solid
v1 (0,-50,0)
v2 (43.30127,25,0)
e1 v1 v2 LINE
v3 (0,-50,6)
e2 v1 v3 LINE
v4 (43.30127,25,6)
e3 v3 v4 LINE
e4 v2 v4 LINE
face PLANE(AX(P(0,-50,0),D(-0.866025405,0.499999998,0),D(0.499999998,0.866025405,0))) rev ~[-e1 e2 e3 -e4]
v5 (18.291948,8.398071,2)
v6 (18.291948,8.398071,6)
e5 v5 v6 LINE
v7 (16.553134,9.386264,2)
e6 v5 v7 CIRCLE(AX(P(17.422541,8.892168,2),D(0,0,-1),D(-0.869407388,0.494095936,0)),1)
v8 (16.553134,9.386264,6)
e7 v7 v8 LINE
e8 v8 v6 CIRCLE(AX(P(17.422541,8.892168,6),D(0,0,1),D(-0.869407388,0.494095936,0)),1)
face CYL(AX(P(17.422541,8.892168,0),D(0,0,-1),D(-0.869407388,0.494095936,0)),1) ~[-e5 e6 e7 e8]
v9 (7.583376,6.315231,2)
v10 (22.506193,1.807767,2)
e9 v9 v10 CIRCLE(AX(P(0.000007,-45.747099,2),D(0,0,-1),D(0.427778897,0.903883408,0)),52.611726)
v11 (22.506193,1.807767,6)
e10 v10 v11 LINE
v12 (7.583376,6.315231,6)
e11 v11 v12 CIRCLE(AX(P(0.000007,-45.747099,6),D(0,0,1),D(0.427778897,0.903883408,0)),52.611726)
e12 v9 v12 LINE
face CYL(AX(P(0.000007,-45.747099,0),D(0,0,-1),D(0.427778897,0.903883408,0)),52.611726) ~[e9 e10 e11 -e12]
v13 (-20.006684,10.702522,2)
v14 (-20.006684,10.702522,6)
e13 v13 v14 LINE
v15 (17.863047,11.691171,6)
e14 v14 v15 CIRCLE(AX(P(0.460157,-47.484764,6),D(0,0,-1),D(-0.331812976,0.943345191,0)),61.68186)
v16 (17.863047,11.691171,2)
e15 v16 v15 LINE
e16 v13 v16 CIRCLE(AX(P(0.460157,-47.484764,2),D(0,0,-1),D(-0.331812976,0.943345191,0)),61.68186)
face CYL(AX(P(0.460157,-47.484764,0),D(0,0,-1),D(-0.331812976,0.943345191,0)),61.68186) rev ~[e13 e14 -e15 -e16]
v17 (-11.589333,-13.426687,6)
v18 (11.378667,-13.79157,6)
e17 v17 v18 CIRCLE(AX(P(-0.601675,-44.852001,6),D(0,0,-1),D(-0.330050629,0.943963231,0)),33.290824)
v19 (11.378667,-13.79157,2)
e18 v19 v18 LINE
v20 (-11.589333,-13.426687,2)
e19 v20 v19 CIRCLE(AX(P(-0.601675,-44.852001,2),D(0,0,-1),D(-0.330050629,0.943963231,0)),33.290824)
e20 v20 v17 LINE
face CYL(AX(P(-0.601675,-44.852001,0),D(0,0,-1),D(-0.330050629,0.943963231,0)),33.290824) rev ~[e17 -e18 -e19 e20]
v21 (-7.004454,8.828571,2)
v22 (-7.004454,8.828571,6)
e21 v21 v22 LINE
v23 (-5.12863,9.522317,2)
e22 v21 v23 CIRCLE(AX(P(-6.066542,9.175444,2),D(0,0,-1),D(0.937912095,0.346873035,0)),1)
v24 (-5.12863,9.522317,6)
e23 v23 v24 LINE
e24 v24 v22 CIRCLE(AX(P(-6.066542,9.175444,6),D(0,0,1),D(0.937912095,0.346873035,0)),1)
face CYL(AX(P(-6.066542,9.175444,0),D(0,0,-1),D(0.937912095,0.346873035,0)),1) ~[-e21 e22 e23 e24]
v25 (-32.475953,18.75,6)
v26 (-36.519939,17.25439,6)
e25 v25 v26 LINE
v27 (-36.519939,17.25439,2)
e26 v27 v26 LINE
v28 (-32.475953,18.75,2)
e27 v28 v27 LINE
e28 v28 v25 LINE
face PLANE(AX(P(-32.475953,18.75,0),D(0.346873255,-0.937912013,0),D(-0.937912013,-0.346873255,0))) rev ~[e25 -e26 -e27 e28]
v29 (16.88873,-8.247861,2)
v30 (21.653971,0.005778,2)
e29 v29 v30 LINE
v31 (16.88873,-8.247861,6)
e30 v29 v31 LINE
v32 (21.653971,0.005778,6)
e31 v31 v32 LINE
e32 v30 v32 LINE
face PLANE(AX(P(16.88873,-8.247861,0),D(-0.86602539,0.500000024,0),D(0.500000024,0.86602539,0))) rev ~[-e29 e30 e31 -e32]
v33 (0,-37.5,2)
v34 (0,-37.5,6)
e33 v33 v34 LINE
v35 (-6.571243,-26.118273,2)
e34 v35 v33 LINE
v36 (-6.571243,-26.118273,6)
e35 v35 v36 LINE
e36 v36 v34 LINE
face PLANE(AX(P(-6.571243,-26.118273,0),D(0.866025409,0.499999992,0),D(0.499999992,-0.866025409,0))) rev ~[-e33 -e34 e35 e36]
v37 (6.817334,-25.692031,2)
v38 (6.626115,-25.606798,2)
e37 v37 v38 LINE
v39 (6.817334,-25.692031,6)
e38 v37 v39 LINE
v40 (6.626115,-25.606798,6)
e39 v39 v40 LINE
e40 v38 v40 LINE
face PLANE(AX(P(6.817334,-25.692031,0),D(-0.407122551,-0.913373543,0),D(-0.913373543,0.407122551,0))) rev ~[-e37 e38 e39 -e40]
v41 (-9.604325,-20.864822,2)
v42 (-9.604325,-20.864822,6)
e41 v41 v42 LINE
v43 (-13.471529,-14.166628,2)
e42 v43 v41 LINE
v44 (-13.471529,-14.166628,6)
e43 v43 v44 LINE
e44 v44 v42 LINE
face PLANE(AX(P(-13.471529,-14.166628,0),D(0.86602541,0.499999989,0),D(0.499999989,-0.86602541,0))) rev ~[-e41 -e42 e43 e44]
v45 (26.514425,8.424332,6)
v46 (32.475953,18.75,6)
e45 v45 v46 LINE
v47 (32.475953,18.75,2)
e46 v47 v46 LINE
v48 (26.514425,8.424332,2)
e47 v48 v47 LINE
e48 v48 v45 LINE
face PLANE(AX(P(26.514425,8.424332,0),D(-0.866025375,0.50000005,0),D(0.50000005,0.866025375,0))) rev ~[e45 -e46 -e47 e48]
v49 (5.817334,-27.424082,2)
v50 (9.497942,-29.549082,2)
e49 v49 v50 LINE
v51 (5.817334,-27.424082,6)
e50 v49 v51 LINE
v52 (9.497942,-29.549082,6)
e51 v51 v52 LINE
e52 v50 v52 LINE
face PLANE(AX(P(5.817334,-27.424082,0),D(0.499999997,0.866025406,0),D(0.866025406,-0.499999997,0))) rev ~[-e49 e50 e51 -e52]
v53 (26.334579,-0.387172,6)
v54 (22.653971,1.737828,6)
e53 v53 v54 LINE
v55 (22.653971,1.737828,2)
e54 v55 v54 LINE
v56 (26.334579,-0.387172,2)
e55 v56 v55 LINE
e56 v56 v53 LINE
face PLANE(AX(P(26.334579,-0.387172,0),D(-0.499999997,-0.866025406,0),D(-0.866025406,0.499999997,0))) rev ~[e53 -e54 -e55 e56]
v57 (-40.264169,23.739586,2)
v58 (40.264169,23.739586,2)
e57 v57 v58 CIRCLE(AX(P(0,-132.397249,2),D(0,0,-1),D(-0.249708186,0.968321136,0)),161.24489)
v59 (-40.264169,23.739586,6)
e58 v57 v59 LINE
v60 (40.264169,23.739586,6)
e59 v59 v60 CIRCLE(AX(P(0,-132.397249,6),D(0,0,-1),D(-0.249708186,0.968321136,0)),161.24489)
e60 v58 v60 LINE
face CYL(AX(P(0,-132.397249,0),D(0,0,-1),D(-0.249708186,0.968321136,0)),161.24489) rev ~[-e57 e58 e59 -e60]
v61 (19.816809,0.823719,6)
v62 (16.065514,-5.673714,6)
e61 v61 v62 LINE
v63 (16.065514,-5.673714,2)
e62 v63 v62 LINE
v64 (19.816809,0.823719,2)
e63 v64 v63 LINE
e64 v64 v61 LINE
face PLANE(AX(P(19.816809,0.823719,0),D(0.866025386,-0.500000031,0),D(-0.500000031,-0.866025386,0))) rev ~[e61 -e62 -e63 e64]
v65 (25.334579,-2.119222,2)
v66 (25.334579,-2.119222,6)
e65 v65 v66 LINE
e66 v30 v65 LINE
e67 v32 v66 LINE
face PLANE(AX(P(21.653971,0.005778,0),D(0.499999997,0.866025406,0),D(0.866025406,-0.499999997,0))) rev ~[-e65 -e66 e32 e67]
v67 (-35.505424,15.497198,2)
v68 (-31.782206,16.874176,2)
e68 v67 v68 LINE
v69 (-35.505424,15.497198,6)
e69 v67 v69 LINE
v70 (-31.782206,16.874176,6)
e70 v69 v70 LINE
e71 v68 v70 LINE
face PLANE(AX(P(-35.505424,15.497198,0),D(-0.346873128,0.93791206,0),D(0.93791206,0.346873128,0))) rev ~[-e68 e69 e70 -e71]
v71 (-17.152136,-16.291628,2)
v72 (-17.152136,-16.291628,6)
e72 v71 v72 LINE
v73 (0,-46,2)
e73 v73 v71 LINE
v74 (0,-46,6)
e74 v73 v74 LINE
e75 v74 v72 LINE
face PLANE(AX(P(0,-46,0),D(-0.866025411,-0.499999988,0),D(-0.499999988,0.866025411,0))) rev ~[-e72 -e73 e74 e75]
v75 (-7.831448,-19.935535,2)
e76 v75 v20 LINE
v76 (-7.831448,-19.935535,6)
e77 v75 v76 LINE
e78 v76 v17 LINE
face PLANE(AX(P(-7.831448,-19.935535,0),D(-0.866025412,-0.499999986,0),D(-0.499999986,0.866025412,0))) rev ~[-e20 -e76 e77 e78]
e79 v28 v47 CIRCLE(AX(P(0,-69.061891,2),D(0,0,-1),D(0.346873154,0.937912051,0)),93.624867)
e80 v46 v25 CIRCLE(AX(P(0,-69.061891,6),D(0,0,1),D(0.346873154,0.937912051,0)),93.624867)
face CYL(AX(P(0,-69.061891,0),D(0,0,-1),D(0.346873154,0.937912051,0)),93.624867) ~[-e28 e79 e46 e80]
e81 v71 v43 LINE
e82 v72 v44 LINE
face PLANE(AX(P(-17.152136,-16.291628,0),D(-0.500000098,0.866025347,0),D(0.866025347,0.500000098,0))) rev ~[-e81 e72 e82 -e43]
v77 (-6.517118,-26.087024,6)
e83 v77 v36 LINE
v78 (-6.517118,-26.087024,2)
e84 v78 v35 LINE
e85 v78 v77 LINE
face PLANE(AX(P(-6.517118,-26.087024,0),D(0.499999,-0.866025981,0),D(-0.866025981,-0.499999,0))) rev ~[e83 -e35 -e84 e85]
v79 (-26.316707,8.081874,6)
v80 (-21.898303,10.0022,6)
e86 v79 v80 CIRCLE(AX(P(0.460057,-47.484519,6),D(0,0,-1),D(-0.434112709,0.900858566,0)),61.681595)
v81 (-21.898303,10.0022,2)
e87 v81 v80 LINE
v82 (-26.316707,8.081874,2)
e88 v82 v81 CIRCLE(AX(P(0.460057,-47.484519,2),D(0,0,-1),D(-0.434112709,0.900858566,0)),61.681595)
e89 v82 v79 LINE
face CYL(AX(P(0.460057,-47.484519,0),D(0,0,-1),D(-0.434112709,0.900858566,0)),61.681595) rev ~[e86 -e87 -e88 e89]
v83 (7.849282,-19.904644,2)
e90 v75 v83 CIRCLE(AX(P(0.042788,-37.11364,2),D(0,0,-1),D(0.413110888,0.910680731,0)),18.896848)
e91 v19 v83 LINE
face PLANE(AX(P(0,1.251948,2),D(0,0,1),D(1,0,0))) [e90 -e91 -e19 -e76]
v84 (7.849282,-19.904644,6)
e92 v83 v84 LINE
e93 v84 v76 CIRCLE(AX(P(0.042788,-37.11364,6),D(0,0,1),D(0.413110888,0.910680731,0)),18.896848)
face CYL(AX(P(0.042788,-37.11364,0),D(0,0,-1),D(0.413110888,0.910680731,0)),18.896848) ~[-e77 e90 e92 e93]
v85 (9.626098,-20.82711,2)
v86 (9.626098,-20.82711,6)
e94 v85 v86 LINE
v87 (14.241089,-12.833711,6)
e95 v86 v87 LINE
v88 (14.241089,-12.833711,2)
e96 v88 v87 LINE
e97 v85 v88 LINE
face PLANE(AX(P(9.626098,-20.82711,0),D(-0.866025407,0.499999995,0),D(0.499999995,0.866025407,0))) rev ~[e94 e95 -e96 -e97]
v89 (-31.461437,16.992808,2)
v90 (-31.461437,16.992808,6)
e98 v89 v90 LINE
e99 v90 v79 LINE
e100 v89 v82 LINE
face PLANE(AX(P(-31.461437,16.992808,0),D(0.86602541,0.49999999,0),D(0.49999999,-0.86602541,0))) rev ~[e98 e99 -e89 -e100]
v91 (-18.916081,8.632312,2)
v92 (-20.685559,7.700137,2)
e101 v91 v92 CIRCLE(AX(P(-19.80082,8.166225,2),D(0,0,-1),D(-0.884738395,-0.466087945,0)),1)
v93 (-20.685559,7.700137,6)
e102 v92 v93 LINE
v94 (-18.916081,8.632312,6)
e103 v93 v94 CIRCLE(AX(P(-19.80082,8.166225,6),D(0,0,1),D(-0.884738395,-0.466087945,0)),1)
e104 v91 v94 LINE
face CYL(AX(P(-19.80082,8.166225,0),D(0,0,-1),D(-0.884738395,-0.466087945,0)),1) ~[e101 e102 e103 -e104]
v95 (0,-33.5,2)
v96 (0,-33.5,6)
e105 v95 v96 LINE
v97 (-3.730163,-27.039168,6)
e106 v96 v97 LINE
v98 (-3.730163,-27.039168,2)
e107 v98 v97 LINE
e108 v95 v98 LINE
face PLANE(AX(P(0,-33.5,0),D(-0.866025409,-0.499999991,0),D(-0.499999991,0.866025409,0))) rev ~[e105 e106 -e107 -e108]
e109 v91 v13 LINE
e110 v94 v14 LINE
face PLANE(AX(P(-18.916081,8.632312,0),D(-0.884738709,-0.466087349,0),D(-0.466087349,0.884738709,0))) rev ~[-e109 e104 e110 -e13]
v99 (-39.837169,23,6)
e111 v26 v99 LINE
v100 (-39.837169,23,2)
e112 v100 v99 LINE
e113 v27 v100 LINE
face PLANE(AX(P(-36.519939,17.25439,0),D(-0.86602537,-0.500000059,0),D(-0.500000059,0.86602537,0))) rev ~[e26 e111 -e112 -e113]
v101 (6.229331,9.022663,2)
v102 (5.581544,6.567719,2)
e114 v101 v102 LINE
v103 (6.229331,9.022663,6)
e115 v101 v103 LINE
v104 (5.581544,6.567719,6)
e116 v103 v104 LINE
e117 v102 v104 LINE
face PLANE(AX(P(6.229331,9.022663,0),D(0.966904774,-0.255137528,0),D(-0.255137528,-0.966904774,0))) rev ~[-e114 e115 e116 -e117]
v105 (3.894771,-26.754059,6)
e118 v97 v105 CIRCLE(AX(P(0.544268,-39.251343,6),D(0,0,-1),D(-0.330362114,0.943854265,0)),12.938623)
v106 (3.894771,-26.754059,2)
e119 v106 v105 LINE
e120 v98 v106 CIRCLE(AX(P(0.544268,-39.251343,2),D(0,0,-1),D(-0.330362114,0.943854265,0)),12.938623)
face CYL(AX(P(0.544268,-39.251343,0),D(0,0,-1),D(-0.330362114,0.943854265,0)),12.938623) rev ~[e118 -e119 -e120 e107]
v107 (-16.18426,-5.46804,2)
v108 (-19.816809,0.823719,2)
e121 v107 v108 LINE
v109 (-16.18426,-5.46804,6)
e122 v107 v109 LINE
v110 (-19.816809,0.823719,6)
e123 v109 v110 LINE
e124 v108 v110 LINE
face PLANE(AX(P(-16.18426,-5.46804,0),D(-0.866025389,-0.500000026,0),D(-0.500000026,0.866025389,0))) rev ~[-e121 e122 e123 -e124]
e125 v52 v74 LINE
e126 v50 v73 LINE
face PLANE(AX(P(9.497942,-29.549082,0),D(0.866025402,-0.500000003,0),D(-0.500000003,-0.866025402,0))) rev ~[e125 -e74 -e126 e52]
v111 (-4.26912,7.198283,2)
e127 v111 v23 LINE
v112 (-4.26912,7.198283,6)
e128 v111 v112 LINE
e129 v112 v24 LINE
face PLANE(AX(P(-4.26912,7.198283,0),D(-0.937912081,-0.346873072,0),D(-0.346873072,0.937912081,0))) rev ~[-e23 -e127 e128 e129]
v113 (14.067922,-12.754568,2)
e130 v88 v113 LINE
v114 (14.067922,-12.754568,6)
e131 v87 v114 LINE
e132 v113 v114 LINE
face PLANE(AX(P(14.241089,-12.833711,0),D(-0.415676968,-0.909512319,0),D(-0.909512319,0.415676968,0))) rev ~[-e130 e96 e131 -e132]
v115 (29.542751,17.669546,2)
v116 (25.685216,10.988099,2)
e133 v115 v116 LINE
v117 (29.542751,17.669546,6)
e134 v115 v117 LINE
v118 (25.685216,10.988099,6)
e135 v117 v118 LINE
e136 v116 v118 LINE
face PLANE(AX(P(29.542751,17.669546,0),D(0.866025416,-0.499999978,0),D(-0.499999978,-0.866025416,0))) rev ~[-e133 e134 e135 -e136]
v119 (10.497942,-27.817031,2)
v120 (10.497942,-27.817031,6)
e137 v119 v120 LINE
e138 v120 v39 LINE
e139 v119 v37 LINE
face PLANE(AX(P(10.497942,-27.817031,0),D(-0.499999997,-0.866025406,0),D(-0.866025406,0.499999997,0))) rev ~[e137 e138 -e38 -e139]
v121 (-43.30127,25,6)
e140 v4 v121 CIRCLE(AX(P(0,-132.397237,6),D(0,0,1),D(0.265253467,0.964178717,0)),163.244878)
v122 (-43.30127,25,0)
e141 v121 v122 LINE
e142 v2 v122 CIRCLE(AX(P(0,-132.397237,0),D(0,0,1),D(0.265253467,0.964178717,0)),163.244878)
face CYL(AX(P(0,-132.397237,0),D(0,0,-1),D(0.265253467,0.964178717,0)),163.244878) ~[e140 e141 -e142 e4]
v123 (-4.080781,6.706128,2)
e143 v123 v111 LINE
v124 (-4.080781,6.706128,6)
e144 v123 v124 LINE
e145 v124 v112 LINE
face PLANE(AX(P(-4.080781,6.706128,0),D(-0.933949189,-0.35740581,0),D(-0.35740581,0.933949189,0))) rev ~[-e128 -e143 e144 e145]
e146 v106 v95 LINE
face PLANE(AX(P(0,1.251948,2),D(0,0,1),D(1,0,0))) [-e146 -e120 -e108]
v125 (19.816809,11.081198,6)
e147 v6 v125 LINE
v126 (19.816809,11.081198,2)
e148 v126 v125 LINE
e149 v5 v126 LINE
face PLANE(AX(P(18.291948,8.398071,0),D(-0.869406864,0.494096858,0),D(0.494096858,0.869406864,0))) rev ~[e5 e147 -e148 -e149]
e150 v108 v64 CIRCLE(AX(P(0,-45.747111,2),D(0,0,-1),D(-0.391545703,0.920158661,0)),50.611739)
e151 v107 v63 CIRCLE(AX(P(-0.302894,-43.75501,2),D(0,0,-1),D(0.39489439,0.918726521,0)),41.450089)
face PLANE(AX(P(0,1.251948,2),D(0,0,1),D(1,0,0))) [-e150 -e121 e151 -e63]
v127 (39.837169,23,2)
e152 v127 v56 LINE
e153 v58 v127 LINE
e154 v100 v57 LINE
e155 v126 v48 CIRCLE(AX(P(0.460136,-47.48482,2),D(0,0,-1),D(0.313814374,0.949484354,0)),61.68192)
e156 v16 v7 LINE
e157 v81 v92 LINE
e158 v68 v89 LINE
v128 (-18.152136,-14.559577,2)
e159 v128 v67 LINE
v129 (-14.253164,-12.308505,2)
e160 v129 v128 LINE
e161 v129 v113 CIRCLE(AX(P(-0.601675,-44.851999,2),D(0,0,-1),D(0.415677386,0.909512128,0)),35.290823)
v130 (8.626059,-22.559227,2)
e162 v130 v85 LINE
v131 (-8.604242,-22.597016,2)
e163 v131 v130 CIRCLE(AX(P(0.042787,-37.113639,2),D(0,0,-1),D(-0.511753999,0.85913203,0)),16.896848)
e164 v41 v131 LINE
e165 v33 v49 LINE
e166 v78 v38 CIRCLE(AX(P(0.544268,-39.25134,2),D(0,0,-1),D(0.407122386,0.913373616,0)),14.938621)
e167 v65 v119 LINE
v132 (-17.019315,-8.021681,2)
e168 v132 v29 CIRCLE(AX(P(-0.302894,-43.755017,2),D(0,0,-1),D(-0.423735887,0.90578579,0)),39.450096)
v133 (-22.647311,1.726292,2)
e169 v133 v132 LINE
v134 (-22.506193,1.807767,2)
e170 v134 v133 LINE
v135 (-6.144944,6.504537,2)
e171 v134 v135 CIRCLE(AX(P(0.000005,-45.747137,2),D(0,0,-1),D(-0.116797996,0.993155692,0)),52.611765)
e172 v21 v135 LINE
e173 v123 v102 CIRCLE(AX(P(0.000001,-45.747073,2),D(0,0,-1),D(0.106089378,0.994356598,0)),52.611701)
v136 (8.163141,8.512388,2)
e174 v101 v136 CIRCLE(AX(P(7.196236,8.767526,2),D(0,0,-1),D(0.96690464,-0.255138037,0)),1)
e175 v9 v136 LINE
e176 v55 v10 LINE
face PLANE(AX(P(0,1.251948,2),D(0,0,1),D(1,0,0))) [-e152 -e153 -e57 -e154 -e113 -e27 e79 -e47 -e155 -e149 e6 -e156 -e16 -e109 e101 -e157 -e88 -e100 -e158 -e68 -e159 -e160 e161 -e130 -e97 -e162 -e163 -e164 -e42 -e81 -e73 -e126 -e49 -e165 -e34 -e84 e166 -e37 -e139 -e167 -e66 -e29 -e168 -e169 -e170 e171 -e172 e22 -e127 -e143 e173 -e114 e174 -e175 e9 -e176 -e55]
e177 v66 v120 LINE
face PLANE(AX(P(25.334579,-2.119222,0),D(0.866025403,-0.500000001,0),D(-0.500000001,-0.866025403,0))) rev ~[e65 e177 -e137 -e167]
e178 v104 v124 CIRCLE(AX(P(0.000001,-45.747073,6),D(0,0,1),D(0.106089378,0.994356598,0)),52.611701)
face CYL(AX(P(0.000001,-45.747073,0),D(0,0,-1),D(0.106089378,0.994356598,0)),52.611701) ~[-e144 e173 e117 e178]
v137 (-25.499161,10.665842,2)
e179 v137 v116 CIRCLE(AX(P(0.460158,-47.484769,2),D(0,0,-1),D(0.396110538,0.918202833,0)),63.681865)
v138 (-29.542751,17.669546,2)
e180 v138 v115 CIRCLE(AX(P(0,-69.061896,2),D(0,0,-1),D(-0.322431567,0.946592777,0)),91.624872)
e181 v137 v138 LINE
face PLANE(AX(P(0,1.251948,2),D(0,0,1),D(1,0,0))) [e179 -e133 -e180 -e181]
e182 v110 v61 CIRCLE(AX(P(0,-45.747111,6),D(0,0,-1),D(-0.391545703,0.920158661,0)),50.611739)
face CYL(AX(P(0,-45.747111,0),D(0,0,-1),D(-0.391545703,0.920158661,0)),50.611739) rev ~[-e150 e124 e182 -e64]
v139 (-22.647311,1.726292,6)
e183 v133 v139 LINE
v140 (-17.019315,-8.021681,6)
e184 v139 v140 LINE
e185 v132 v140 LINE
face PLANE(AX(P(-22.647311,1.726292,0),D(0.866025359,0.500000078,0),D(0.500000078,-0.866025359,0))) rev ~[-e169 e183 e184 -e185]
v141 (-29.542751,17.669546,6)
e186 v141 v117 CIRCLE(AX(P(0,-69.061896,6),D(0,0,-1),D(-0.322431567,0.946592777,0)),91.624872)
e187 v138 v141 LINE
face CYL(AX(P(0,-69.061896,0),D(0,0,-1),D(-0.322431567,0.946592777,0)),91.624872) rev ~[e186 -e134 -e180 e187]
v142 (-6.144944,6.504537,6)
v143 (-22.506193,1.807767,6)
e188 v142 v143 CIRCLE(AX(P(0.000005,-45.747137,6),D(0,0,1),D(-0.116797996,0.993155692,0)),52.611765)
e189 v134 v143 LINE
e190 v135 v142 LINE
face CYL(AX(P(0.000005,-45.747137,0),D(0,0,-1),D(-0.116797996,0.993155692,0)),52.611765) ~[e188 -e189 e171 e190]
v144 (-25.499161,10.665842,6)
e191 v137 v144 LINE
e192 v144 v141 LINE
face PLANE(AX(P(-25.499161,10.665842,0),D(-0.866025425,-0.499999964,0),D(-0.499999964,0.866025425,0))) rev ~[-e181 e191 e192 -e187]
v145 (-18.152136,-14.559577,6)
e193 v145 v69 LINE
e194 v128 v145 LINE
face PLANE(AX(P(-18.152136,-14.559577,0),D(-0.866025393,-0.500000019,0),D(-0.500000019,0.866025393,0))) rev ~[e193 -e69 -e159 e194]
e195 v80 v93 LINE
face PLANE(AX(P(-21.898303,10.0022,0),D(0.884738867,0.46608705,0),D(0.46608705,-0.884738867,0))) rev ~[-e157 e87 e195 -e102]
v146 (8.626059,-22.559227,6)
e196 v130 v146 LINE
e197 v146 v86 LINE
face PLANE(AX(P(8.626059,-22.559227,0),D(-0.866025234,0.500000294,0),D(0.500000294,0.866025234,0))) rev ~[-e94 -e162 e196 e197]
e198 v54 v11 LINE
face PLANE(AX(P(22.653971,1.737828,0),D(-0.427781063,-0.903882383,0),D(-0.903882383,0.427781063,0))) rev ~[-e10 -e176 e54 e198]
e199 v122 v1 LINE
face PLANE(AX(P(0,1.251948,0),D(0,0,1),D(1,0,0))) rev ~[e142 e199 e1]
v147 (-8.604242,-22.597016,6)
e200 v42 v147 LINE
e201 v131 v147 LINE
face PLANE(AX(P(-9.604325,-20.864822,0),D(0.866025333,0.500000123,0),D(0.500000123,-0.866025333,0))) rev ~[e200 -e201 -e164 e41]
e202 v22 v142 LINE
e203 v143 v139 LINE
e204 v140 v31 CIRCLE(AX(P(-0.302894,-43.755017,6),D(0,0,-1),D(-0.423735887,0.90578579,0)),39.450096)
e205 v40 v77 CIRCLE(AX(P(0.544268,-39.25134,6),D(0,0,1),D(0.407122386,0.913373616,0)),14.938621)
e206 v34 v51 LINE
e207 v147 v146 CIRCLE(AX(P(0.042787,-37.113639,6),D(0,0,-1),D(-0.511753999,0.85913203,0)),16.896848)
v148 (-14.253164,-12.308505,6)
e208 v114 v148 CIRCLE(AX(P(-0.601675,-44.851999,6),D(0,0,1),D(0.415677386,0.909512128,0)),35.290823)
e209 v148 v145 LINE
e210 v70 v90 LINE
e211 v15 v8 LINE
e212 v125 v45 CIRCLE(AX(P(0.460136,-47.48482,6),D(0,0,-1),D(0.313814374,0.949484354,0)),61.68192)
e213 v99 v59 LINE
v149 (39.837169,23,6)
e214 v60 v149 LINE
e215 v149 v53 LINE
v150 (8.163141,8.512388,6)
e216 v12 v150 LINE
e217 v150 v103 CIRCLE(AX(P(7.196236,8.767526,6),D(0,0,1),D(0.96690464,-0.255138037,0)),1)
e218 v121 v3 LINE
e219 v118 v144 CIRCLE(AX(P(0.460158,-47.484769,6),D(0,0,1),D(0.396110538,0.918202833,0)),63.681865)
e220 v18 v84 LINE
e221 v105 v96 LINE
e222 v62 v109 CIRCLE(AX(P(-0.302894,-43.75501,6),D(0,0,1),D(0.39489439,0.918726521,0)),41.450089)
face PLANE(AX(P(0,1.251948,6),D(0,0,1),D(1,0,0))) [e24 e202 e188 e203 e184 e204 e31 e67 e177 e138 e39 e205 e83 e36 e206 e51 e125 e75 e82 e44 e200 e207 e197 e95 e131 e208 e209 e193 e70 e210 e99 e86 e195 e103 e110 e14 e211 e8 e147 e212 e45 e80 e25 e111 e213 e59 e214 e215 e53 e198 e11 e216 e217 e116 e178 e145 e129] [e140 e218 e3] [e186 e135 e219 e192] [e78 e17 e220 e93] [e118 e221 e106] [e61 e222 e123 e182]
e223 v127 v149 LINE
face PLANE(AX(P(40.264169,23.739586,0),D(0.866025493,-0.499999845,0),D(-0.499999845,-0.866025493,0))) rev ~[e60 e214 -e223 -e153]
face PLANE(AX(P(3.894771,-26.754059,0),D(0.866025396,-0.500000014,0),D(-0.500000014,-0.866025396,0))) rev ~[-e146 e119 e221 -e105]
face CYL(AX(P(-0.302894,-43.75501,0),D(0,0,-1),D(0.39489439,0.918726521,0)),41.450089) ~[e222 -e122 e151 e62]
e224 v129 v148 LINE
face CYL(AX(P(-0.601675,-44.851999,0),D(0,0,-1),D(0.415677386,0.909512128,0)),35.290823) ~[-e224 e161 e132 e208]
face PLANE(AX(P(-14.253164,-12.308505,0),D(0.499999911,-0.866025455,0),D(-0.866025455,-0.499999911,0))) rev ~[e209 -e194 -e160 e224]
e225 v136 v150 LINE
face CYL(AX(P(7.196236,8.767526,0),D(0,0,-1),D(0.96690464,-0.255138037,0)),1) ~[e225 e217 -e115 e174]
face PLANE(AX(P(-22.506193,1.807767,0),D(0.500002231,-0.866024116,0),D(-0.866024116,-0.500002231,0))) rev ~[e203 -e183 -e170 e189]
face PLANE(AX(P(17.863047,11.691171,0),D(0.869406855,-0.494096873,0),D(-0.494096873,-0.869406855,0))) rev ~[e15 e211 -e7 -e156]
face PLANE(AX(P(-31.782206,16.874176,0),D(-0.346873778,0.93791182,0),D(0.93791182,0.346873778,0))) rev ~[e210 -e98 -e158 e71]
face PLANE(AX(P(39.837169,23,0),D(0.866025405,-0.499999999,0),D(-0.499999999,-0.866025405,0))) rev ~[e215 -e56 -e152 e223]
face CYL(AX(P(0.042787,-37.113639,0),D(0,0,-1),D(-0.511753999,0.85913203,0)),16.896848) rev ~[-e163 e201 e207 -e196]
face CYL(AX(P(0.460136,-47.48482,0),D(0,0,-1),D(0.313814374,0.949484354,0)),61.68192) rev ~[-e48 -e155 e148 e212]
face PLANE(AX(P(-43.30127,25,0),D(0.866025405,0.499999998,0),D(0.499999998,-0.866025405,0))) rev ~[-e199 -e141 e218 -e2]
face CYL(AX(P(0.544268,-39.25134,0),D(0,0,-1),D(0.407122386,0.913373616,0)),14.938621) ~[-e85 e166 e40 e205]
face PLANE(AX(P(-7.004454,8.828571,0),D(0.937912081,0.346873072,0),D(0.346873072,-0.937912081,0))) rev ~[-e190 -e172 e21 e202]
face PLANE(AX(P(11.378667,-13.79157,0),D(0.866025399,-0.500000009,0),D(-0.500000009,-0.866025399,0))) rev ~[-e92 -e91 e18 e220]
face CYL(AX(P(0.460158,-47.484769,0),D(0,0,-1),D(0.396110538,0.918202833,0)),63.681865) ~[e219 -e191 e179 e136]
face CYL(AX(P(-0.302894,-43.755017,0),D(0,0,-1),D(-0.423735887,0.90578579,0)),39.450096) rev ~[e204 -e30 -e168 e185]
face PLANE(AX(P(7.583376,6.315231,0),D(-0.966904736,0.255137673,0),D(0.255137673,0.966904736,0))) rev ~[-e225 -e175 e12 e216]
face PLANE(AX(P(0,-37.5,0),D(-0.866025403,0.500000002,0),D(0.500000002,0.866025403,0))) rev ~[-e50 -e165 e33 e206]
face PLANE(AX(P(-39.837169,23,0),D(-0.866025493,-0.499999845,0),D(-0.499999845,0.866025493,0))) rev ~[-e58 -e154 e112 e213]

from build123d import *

# Parameters (mm, degrees)
F1_DEPTH = 6
F3_DEPTH = 2


with BuildPart() as f1:
    # F0 (on Top) → F1 (new body)
    with BuildSketch(Plane.XY):
        with BuildLine():
            Line((-43.30127, 25), (0, -50))
            Line((0, -50), (43.30127, 25))
            ThreePointArc((43.30127, 25), (0, 30.847641), (-43.30127, 25))
        make_face()
        with BuildLine():
            ThreePointArc((-11.589333, -13.426687), (-0.072865, -11.565377), (11.378667, -13.79157))
            Line((11.378667, -13.79157), (7.849282, -19.904644))
            ThreePointArc((7.849282, -19.904644), (0.005562, -18.216828), (-7.831448, -19.935535))
            Line((-7.831448, -19.935535), (-11.589333, -13.426687))
        make_face(mode=Mode.SUBTRACT)
        with BuildLine():
            ThreePointArc((-3.730163, -27.039168), (0.060809, -26.321755), (3.894771, -26.754059))
            Line((3.894771, -26.754059), (0, -33.5))
            Line((0, -33.5), (-3.730163, -27.039168))
        make_face(mode=Mode.SUBTRACT)
        with BuildLine():
            Line((9.497942, -29.549082), (0, -46))
            Line((0, -46), (-17.152136, -16.291628))
            Line((-17.152136, -16.291628), (-13.471529, -14.166628))
            Line((-13.471529, -14.166628), (-9.604325, -20.864822))
            Line((-9.604325, -20.864822), (-8.604242, -22.597016))
            ThreePointArc((-8.604242, -22.597016), (0.00573, -20.216832), (8.626059, -22.559227))
            Line((8.626059, -22.559227), (9.626098, -20.82711))
            Line((9.626098, -20.82711), (14.241089, -12.833711))
            Line((14.241089, -12.833711), (14.067922, -12.754568))
            ThreePointArc((14.067922, -12.754568), (-0.045906, -9.565553), (-14.253164, -12.308505))
            Line((-14.253164, -12.308505), (-18.152136, -14.559577))
            Line((-18.152136, -14.559577), (-35.505424, 15.497198))
            Line((-35.505424, 15.497198), (-31.782206, 16.874176))
            Line((-31.782206, 16.874176), (-31.461437, 16.992808))
            Line((-31.461437, 16.992808), (-26.316707, 8.081874))
            ThreePointArc((-26.316707, 8.081874), (-24.126261, 9.085191), (-21.898303, 10.0022))
            Line((-21.898303, 10.0022), (-20.685559, 7.700137))
            ThreePointArc((-20.685559, 7.700137), (-19.334733, 7.281486), (-18.916081, 8.632312))
            Line((-18.916081, 8.632312), (-20.006684, 10.702522))
            ThreePointArc((-20.006684, 10.702522), (-1.149596, 14.176087), (17.863047, 11.691171))
            Line((17.863047, 11.691171), (16.553134, 9.386264))
            ThreePointArc((16.553134, 9.386264), (16.928445, 8.022761), (18.291948, 8.398071))
            Line((18.291948, 8.398071), (19.816809, 11.081198))
            ThreePointArc((19.816809, 11.081198), (23.204445, 9.850646), (26.514425, 8.424332))
            Line((26.514425, 8.424332), (32.475953, 18.75))
            ThreePointArc((32.475953, 18.75), (0, 24.562976), (-32.475953, 18.75))
            Line((-32.475953, 18.75), (-36.519939, 17.25439))
            Line((-36.519939, 17.25439), (-39.837169, 23))
            Line((-39.837169, 23), (-40.264169, 23.739586))
            ThreePointArc((-40.264169, 23.739586), (0, 28.847641), (40.264169, 23.739586))
            Line((40.264169, 23.739586), (39.837169, 23))
            Line((39.837169, 23), (26.334579, -0.387172))
            Line((26.334579, -0.387172), (22.653971, 1.737828))
            Line((22.653971, 1.737828), (22.506193, 1.807767))
            ThreePointArc((22.506193, 1.807767), (15.212654, 4.617264), (7.583376, 6.315231))
            Line((7.583376, 6.315231), (8.163141, 8.512388))
            ThreePointArc((8.163141, 8.512388), (7.451374, 9.734431), (6.229331, 9.022663))
            Line((6.229331, 9.022663), (5.581544, 6.567719))
            ThreePointArc((5.581544, 6.567719), (0.753566, 6.859231), (-4.080781, 6.706128))
            Line((-4.080781, 6.706128), (-4.26912, 7.198283))
            Line((-4.26912, 7.198283), (-5.12863, 9.522317))
            ThreePointArc((-5.12863, 9.522317), (-6.413415, 10.113356), (-7.004454, 8.828571))
            Line((-7.004454, 8.828571), (-6.144944, 6.504537))
            ThreePointArc((-6.144944, 6.504537), (-14.516777, 4.82223), (-22.506193, 1.807767))
            Line((-22.506193, 1.807767), (-22.647311, 1.726292))
            Line((-22.647311, 1.726292), (-17.019315, -8.021681))
            ThreePointArc((-17.019315, -8.021681), (-0.039752, -4.305799), (16.88873, -8.247861))
            Line((16.88873, -8.247861), (21.653971, 0.005778))
            Line((21.653971, 0.005778), (25.334579, -2.119222))
            Line((25.334579, -2.119222), (10.497942, -27.817031))
            Line((10.497942, -27.817031), (6.817334, -25.692031))
            Line((6.817334, -25.692031), (6.626115, -25.606798))
            ThreePointArc((6.626115, -25.606798), (-0.001194, -24.322681), (-6.517118, -26.087024))
            Line((-6.517118, -26.087024), (-6.571243, -26.118273))
            Line((-6.571243, -26.118273), (0, -37.5))
            Line((0, -37.5), (5.817334, -27.424082))
            Line((5.817334, -27.424082), (9.497942, -29.549082))
        make_face(mode=Mode.SUBTRACT)
        with BuildLine():
            ThreePointArc((-19.816809, 0.823719), (0, 4.864628), (19.816809, 0.823719))
            Line((19.816809, 0.823719), (16.065514, -5.673714))
            ThreePointArc((16.065514, -5.673714), (-0.03855, -2.305764), (-16.18426, -5.46804))
            Line((-16.18426, -5.46804), (-19.816809, 0.823719))
        make_face(mode=Mode.SUBTRACT)
        with BuildLine():
            Line((29.542751, 17.669546), (25.685216, 10.988099))
            ThreePointArc((25.685216, 10.988099), (0.059225, 16.195833), (-25.499161, 10.665842))
            Line((-25.499161, 10.665842), (-29.542751, 17.669546))
            ThreePointArc((-29.542751, 17.669546), (0, 22.562976), (29.542751, 17.669546))
        make_face(mode=Mode.SUBTRACT)
    extrude(amount=F1_DEPTH)

    # F2 (on Top) → F3 (join)
    with BuildSketch(Plane.XY):
        with BuildLine():
            Line((-43.30127, 25), (0, -50))
            Line((0, -50), (43.30127, 25))
            ThreePointArc((43.30127, 25), (0, 30.847641), (-43.30127, 25))
        make_face()
    extrude(amount=F3_DEPTH)


solid = f1.part
